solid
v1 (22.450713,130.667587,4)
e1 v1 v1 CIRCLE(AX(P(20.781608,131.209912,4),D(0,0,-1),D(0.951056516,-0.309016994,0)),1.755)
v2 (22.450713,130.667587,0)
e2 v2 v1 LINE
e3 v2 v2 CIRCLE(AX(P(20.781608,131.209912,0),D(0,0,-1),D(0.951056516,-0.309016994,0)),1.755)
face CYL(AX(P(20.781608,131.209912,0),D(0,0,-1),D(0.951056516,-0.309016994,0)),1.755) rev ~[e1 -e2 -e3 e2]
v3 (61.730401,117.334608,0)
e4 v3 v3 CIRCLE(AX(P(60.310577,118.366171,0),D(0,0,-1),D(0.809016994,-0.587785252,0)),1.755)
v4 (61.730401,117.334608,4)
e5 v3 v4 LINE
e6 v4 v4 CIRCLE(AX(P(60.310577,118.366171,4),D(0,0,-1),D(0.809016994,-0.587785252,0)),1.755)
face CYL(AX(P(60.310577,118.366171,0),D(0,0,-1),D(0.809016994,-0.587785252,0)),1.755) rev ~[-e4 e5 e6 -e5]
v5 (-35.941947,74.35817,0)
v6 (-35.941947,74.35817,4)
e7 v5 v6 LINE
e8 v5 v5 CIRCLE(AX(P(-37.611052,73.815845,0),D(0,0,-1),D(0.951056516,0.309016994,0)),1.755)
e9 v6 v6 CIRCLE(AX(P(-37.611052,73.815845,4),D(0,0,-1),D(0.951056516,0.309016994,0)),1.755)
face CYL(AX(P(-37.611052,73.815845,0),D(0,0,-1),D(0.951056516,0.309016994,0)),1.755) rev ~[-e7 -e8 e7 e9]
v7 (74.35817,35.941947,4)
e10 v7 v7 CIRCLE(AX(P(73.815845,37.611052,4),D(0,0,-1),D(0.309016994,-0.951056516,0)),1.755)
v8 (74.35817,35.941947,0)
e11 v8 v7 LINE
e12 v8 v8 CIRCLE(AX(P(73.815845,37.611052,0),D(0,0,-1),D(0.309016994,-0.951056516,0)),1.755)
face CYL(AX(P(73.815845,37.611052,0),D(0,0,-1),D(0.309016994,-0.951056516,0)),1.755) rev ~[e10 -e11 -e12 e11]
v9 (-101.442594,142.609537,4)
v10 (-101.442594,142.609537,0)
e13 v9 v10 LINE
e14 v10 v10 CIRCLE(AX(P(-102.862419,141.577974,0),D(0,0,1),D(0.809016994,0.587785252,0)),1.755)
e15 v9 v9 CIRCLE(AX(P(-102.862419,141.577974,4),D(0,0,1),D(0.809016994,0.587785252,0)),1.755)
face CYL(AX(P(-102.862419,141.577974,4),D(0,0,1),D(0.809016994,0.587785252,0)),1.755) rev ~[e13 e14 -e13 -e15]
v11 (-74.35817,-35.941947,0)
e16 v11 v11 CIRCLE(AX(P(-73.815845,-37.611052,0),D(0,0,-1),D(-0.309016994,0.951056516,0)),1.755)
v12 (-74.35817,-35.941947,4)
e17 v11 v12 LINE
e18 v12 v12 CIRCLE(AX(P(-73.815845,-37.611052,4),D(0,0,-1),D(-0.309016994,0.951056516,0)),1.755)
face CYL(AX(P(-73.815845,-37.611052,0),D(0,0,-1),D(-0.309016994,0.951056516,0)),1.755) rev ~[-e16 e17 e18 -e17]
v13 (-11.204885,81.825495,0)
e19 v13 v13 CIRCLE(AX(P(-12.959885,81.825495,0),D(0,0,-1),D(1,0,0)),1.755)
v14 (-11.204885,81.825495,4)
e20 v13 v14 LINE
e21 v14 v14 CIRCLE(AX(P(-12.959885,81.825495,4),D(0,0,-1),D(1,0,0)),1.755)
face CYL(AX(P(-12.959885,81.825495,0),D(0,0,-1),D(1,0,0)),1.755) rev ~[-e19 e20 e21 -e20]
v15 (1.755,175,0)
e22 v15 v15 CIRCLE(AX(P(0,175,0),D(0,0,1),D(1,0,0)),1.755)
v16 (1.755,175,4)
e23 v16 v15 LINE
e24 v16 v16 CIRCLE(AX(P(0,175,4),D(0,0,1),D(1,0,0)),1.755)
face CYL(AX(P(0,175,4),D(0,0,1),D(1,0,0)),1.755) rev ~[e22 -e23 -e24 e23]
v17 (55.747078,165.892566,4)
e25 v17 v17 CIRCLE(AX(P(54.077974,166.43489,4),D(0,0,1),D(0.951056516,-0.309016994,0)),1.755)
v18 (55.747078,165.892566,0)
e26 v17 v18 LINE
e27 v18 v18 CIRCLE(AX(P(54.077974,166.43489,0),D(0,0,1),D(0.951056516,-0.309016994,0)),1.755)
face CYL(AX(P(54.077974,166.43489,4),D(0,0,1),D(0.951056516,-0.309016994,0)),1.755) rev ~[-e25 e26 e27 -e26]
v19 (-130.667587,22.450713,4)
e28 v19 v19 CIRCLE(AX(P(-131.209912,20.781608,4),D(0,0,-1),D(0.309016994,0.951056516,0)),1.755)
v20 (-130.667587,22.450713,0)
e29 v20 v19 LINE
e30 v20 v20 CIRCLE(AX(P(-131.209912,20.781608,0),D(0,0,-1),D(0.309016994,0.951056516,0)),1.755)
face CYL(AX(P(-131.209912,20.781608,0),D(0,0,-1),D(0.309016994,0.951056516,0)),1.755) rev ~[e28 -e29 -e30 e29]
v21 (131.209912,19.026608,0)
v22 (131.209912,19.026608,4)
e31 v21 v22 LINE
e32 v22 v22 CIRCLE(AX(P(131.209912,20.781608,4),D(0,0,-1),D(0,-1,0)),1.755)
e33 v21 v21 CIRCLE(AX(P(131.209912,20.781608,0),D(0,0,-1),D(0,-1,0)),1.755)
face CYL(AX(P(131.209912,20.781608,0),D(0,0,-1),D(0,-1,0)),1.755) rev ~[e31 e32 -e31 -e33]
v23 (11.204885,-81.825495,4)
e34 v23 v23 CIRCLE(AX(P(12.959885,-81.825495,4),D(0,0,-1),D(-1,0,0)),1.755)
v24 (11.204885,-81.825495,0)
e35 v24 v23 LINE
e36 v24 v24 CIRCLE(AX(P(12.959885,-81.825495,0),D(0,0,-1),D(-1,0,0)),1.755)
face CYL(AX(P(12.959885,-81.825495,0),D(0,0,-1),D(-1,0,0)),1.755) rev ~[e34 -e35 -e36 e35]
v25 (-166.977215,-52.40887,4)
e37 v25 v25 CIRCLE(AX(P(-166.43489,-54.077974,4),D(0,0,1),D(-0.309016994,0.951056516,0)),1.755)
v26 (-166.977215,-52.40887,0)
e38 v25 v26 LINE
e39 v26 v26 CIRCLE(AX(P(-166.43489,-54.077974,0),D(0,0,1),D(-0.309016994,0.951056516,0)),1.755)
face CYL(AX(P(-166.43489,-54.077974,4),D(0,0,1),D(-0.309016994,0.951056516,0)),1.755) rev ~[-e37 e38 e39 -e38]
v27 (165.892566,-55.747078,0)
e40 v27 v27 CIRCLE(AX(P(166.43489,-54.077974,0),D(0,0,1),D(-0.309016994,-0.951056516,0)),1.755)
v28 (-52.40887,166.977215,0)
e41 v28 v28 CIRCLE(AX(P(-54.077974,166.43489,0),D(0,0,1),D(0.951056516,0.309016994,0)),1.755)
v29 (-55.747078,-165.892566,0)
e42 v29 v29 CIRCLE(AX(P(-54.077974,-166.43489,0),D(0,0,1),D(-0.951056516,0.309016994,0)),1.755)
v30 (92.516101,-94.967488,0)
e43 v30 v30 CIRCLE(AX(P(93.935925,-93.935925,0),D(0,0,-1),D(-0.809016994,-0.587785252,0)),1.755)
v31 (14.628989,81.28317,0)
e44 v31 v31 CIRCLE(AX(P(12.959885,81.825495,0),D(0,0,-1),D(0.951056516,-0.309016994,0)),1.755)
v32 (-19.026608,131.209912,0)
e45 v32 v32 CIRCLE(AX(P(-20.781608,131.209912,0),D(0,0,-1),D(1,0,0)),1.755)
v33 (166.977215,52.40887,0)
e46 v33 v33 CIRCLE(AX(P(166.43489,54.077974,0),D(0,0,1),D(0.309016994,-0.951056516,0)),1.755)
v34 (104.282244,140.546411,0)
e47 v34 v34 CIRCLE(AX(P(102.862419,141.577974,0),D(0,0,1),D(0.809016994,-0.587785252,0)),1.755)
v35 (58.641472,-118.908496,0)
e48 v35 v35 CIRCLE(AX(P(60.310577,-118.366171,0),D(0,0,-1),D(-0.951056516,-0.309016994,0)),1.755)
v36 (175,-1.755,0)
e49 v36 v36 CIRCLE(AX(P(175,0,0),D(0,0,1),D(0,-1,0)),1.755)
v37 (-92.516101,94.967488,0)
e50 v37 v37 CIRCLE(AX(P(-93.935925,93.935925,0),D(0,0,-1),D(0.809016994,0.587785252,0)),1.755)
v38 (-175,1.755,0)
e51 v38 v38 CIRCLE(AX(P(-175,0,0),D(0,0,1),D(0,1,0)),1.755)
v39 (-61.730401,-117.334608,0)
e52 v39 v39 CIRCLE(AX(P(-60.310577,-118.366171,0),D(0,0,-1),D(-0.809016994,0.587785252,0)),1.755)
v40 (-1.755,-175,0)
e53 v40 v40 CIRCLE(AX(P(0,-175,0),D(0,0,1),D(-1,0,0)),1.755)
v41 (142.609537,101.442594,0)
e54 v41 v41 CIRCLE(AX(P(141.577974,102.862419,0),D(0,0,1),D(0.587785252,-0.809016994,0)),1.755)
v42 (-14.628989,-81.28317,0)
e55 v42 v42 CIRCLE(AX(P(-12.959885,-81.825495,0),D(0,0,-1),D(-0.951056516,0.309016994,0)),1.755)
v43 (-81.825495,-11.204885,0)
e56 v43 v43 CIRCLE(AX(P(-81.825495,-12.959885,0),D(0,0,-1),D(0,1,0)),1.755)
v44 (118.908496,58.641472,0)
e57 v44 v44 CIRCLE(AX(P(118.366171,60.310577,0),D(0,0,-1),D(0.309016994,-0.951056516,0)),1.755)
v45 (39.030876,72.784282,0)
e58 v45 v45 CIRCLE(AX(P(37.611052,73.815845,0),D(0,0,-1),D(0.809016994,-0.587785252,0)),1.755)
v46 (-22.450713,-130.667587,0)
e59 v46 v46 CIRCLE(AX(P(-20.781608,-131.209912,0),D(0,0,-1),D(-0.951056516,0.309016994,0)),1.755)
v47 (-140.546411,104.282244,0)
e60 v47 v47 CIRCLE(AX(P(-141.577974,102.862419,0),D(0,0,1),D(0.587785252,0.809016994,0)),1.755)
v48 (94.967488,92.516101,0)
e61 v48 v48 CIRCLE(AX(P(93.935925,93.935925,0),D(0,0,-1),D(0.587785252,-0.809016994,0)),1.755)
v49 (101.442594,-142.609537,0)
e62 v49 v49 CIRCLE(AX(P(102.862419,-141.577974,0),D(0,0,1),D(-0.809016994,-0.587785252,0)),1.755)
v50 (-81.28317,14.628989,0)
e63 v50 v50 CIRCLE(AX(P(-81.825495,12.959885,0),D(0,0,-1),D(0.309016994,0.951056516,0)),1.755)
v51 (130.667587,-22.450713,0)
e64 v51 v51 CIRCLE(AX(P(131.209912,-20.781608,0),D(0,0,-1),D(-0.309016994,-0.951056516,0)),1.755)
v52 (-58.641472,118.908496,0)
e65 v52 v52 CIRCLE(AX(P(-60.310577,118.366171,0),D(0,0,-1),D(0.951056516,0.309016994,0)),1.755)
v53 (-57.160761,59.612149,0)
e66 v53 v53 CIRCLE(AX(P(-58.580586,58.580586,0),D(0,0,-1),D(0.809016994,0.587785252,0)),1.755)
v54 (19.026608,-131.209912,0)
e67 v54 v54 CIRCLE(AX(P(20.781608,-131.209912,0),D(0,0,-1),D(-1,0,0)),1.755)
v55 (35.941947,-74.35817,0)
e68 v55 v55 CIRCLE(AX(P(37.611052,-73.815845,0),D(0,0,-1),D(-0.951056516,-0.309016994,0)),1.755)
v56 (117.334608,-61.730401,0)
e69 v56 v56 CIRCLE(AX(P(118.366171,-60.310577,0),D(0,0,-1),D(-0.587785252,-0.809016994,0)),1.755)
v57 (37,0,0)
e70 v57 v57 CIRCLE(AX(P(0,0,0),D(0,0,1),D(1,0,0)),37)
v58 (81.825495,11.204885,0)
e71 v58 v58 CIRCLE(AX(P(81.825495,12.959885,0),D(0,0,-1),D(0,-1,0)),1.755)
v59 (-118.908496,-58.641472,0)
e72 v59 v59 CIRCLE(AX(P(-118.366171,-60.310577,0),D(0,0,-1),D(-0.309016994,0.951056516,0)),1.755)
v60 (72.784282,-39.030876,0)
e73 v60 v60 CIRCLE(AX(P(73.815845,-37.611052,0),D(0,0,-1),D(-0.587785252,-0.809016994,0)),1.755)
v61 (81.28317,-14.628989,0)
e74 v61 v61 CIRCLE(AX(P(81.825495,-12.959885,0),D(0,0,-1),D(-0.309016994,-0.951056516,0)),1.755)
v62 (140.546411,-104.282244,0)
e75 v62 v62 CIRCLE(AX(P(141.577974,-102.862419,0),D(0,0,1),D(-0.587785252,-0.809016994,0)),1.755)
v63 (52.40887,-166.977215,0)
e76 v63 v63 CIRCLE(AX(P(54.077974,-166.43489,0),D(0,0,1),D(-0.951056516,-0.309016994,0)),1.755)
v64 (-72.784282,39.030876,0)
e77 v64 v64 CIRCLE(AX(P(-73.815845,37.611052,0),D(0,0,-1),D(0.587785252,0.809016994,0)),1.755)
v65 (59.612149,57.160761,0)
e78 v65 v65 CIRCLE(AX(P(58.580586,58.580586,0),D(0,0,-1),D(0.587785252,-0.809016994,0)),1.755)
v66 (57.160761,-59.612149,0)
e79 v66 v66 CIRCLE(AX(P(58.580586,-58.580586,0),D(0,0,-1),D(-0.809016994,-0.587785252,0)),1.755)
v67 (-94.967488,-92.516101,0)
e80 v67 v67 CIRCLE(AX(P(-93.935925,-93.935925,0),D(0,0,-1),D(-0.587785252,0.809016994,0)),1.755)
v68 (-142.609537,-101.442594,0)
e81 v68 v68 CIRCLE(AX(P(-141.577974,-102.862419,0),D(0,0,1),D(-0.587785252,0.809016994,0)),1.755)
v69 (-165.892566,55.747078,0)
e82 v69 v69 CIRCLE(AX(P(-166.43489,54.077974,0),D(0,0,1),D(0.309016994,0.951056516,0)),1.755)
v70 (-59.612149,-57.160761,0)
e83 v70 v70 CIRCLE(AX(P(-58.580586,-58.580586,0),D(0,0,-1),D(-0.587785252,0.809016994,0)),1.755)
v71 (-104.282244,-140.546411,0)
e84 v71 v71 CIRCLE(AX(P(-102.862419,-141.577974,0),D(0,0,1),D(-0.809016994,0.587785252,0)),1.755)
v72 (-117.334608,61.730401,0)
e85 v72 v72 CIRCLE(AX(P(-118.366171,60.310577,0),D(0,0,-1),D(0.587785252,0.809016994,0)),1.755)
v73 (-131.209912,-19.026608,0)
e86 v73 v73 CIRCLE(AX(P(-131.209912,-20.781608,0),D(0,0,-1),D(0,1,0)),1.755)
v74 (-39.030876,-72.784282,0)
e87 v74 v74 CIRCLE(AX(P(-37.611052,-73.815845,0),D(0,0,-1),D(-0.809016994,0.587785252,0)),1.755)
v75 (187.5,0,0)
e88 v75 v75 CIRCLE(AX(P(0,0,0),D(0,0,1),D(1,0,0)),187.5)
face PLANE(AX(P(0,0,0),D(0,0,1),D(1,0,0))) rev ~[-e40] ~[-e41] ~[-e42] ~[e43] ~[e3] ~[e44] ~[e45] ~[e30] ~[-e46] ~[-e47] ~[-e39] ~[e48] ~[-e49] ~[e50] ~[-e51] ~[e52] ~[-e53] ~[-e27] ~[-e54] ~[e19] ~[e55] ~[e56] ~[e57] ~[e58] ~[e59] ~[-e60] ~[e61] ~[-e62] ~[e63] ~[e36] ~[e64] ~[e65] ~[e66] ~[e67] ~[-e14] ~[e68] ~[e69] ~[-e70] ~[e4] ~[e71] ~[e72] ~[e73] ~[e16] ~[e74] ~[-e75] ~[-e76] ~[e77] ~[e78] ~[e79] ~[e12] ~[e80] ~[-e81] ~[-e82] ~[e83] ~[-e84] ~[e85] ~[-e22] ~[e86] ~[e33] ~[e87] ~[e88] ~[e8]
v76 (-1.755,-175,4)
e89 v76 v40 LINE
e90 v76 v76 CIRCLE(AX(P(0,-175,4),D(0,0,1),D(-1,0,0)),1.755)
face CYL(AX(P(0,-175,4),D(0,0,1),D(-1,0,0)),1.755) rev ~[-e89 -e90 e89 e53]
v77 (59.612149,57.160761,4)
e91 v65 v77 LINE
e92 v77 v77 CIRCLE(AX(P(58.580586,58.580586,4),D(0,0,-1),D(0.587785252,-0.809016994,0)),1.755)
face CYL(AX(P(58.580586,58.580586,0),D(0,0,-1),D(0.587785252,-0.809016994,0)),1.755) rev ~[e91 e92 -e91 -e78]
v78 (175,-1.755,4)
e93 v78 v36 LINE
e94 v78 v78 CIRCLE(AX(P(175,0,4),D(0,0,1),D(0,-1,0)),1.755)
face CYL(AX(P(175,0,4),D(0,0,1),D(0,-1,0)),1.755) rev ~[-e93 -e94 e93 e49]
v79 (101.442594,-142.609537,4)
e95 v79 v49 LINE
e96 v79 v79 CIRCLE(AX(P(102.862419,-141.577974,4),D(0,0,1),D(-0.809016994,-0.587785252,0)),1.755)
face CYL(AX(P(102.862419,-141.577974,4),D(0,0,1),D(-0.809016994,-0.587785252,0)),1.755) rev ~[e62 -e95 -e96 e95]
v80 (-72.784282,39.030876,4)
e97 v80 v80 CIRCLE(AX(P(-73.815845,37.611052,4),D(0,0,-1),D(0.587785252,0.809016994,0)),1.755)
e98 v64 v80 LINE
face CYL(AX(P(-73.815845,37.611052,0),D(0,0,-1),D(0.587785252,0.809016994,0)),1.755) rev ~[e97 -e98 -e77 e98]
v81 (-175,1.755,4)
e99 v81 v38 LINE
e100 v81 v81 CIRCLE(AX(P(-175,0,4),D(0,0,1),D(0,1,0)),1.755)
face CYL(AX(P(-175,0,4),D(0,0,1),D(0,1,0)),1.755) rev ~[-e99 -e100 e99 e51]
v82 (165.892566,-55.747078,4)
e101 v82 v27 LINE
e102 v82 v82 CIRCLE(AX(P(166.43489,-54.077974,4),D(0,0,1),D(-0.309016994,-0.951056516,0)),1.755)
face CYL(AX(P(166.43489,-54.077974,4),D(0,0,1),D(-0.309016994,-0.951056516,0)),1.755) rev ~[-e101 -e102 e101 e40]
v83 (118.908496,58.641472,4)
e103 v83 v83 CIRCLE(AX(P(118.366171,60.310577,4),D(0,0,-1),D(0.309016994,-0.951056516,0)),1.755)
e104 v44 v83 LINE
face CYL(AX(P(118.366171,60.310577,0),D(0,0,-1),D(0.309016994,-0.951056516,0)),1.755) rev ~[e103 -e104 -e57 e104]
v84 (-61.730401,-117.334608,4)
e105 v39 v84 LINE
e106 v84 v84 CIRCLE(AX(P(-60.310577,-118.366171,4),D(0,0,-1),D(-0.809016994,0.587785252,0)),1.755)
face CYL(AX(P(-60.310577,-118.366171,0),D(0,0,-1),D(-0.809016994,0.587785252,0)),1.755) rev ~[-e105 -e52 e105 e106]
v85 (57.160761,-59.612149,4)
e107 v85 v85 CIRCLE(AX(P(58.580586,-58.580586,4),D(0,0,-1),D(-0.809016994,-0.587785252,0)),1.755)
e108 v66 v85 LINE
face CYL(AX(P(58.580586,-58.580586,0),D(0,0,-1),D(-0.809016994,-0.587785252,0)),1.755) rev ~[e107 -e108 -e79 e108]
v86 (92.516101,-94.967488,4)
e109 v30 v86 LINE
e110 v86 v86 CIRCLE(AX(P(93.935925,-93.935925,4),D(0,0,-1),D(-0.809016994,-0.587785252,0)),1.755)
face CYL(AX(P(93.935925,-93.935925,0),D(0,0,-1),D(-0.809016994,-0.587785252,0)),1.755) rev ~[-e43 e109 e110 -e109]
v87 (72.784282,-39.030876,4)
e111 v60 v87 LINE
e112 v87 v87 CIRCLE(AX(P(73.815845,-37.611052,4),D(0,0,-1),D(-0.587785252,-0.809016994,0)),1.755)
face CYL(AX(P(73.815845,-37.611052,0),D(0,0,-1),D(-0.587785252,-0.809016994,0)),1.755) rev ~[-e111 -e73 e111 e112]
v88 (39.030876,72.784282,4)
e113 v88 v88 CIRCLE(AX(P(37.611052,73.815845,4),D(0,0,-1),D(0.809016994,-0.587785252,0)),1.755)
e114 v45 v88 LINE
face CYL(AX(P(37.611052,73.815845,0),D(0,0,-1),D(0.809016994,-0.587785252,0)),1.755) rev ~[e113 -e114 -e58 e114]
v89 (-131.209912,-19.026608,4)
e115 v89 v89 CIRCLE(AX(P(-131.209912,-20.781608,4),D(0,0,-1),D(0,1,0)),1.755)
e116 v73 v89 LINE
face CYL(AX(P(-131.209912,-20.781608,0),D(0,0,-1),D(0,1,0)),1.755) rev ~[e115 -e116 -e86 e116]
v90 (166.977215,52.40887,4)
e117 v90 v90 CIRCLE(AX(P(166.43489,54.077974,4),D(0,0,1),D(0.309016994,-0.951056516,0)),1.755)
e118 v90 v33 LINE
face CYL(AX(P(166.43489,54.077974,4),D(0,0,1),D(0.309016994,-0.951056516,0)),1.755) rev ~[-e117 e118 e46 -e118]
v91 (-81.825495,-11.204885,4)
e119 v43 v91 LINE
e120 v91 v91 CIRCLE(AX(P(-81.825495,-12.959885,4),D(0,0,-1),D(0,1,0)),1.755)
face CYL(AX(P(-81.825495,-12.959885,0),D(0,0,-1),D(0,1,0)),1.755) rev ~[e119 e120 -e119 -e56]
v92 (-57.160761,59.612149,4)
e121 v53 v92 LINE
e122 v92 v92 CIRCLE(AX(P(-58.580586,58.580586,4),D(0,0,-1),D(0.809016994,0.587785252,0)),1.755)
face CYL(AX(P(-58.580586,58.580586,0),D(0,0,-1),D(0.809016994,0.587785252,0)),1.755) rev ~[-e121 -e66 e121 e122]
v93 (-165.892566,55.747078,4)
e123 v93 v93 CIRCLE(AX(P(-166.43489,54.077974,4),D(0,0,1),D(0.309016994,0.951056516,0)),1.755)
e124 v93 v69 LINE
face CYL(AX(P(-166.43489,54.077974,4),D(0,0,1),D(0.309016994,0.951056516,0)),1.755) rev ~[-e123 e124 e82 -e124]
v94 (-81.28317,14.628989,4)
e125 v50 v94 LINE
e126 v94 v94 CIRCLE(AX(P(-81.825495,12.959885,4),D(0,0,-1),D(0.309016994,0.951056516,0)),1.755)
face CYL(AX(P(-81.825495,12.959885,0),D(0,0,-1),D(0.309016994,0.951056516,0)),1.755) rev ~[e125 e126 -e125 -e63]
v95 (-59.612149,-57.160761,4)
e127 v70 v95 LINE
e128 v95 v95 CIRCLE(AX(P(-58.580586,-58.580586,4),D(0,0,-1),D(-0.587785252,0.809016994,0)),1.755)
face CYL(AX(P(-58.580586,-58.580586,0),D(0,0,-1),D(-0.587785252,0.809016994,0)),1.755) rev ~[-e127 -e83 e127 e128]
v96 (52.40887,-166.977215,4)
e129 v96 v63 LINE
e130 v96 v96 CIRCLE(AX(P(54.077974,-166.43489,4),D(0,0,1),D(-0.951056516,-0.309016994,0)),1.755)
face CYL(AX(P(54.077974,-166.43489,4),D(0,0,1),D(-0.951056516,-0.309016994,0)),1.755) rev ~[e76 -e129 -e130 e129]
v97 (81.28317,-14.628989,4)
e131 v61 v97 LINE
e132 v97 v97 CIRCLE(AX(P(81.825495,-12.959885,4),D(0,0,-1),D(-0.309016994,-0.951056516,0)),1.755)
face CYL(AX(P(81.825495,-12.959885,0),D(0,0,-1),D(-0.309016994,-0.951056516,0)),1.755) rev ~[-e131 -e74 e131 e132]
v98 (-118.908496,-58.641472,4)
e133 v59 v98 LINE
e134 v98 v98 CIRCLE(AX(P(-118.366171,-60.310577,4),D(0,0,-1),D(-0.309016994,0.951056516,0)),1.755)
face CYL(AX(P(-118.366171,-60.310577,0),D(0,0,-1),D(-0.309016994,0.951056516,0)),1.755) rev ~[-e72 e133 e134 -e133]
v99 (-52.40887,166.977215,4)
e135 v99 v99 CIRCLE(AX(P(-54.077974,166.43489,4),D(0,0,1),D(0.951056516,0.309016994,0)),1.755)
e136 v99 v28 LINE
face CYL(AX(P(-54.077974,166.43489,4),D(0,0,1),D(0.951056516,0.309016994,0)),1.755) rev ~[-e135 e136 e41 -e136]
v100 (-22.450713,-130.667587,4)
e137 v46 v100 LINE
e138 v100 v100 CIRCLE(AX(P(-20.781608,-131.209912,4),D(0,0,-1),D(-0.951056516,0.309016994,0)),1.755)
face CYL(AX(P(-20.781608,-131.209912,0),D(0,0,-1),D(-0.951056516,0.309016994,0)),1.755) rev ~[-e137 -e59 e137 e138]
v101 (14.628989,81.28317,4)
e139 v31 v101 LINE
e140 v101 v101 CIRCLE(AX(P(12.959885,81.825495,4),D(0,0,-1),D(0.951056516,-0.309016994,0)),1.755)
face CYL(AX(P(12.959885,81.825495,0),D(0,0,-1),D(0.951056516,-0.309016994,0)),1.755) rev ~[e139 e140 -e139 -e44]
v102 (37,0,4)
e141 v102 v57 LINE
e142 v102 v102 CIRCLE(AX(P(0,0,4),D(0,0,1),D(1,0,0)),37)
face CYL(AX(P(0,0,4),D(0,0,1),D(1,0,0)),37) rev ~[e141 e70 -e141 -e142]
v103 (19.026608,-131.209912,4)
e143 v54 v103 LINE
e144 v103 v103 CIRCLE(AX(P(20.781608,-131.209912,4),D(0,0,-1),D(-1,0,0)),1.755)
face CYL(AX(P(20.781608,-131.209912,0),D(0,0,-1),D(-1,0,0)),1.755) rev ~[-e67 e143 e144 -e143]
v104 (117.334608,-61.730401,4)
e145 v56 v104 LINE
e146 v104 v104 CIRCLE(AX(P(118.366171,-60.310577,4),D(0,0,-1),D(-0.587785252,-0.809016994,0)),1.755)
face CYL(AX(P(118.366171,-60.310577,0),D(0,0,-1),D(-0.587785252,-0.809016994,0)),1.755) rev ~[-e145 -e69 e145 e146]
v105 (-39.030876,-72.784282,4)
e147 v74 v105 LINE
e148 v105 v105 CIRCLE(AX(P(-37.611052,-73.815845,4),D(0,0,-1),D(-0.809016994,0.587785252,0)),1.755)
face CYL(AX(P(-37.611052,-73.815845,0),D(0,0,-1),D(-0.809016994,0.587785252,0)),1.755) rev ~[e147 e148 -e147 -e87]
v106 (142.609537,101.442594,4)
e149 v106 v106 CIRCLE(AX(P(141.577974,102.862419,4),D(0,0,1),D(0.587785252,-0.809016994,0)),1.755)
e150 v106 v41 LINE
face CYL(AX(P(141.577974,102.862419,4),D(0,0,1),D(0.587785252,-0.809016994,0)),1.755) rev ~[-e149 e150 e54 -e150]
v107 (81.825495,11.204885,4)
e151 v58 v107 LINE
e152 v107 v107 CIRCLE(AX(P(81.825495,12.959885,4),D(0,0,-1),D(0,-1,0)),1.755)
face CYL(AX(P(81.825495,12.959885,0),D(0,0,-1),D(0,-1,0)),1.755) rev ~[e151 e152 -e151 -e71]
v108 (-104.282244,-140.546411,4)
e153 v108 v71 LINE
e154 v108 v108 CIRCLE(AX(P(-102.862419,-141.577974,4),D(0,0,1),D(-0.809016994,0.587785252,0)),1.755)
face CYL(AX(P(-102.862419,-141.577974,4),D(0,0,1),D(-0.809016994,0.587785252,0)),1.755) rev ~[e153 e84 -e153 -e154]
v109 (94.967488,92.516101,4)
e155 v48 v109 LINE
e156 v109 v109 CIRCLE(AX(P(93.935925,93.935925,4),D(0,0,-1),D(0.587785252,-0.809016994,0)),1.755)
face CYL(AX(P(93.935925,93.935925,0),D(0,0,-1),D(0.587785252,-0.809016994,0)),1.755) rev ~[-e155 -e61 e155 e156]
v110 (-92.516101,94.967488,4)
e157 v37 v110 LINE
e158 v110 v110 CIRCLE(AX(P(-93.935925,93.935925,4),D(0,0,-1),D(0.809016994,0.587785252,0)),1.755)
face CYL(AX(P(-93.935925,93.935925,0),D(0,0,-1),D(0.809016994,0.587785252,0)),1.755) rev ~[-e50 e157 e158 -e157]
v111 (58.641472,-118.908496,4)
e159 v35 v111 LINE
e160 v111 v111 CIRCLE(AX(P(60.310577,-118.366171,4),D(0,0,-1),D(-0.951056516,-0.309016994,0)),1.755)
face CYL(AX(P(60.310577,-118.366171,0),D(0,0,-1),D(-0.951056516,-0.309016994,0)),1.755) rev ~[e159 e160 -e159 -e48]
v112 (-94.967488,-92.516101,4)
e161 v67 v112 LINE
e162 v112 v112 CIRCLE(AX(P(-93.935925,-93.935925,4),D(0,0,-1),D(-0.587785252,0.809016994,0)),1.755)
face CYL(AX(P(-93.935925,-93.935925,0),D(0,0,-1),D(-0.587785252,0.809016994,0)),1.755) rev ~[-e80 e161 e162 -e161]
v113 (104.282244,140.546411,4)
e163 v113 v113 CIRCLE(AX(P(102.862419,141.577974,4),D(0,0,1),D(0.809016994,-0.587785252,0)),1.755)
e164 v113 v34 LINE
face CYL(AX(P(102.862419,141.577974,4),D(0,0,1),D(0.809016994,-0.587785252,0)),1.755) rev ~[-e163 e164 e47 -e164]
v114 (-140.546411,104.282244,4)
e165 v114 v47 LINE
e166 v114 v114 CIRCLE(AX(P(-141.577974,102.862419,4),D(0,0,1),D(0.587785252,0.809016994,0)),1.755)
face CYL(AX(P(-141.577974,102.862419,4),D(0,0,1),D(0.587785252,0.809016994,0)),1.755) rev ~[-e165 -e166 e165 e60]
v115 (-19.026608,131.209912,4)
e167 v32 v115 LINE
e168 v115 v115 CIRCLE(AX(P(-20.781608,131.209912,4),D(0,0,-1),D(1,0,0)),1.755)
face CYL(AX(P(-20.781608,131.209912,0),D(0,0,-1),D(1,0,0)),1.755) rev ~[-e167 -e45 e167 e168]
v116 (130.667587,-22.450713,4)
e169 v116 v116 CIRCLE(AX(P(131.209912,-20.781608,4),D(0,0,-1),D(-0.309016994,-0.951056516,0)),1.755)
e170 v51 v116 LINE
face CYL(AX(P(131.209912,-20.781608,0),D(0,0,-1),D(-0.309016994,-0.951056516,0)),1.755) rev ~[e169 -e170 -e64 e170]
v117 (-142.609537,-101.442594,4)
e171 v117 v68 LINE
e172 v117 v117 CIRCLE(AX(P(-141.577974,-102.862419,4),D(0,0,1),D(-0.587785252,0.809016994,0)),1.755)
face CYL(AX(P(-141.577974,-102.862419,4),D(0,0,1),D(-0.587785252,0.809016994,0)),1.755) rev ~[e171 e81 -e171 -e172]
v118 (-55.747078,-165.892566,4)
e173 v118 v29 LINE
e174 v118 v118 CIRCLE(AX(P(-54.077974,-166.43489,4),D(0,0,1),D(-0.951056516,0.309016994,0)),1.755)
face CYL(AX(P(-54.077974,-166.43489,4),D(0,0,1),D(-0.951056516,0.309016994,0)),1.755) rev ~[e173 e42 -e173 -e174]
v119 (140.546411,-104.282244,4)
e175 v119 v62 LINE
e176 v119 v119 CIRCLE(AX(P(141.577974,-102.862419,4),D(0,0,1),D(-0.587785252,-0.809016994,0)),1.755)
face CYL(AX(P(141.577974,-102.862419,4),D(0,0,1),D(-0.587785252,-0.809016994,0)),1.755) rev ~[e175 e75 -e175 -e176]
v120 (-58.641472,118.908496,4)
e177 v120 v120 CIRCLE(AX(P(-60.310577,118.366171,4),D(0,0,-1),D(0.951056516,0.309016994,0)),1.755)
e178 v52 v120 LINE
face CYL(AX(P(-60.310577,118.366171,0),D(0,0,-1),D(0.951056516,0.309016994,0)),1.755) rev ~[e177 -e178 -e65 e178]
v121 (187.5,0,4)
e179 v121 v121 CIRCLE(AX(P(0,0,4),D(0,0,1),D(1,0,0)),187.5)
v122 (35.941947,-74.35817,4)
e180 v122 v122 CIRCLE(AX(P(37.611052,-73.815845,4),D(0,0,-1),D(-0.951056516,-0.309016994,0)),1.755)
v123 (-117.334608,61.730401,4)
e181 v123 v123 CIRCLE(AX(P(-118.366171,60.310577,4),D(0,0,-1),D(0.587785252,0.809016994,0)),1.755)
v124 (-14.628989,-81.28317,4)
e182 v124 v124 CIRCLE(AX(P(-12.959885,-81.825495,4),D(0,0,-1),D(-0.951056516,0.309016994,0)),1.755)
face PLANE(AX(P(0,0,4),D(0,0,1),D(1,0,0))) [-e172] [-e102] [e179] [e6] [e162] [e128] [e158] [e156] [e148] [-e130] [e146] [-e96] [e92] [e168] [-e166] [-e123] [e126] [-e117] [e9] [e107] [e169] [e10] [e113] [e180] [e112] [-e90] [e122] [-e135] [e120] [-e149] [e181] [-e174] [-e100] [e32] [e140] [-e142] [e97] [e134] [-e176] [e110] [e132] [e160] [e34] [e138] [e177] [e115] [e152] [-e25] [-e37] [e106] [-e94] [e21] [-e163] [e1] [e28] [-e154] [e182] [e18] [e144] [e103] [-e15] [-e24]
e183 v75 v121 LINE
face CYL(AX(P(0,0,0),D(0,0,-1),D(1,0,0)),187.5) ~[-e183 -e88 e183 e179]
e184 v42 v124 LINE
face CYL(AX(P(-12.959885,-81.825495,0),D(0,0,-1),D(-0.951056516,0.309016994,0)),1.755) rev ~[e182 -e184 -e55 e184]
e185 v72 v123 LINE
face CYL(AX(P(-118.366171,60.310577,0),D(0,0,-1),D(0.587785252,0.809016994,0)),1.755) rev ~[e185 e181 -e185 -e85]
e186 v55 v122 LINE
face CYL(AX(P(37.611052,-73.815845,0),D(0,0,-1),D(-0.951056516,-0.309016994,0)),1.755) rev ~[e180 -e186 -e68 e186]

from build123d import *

# Parameters (mm, degrees)
SKETCH1_R           = 187.5
BOSS_EXTRUDE1_DEPTH = 4
SKETCH2_R           = 37
CUT_EXTRUDE1_DEPTH  = 266.195211118
SKETCH3_R           = 1.755
CUT_EXTRUDE2_DEPTH  = 266.195211118
CIRPATTERN1_COUNT   = 20
SKETCH4_R           = 1.755
CUT_EXTRUDE3_DEPTH  = 266.195211118
CIRPATTERN2_COUNT   = 20


with BuildPart() as part:
    # Sketch1 → Boss-Extrude1 (new body)
    with BuildSketch(Plane.XY):
        Circle(SKETCH1_R)
    extrude(amount=BOSS_EXTRUDE1_DEPTH)

    # Sketch2 → Cut-Extrude1 (cut, through all)
    with BuildSketch(Plane.XY.offset(4)):
        Circle(SKETCH2_R)
    extrude(amount=-CUT_EXTRUDE1_DEPTH, mode=Mode.SUBTRACT)

    # Sketch3 → Cut-Extrude2 (cut, through all)
    with BuildSketch(Plane.XY.offset(4)):
        with Locations((0, 175)):
            Circle(SKETCH3_R)
    cut_extrude2 = extrude(amount=-CUT_EXTRUDE2_DEPTH, mode=Mode.SUBTRACT)

    # CirPattern1: Cut-Extrude2 ×20 about axis
    cirpattern1_axis = Axis((0, 0, -0.2), (0, 0, 1))
    for i in range(1, CIRPATTERN1_COUNT):
        add(cut_extrude2.rotate(cirpattern1_axis, i * 360 / CIRPATTERN1_COUNT), mode=Mode.SUBTRACT)

    # Sketch4 → Cut-Extrude3 (cut, through all)
    with BuildSketch(Plane(origin=(0, 0, 0), x_dir=(-1, 0, 0), z_dir=(0, 0, -1))):
        with Locations((-12.959885154, -81.825494522)):
            Circle(SKETCH4_R)
        with Locations((-20.781608406, -131.209911552)):
            Circle(SKETCH4_R)
    cut_extrude3 = extrude(amount=-CUT_EXTRUDE3_DEPTH, mode=Mode.SUBTRACT)

    # CirPattern2: Cut-Extrude3 ×20 about axis
    cirpattern2_axis = Axis((0, 0, -0.2), (0, 0, 1))
    for i in range(1, CIRPATTERN2_COUNT):
        add(cut_extrude3.rotate(cirpattern2_axis, i * 360 / CIRPATTERN2_COUNT), mode=Mode.SUBTRACT)


solid = part.part
